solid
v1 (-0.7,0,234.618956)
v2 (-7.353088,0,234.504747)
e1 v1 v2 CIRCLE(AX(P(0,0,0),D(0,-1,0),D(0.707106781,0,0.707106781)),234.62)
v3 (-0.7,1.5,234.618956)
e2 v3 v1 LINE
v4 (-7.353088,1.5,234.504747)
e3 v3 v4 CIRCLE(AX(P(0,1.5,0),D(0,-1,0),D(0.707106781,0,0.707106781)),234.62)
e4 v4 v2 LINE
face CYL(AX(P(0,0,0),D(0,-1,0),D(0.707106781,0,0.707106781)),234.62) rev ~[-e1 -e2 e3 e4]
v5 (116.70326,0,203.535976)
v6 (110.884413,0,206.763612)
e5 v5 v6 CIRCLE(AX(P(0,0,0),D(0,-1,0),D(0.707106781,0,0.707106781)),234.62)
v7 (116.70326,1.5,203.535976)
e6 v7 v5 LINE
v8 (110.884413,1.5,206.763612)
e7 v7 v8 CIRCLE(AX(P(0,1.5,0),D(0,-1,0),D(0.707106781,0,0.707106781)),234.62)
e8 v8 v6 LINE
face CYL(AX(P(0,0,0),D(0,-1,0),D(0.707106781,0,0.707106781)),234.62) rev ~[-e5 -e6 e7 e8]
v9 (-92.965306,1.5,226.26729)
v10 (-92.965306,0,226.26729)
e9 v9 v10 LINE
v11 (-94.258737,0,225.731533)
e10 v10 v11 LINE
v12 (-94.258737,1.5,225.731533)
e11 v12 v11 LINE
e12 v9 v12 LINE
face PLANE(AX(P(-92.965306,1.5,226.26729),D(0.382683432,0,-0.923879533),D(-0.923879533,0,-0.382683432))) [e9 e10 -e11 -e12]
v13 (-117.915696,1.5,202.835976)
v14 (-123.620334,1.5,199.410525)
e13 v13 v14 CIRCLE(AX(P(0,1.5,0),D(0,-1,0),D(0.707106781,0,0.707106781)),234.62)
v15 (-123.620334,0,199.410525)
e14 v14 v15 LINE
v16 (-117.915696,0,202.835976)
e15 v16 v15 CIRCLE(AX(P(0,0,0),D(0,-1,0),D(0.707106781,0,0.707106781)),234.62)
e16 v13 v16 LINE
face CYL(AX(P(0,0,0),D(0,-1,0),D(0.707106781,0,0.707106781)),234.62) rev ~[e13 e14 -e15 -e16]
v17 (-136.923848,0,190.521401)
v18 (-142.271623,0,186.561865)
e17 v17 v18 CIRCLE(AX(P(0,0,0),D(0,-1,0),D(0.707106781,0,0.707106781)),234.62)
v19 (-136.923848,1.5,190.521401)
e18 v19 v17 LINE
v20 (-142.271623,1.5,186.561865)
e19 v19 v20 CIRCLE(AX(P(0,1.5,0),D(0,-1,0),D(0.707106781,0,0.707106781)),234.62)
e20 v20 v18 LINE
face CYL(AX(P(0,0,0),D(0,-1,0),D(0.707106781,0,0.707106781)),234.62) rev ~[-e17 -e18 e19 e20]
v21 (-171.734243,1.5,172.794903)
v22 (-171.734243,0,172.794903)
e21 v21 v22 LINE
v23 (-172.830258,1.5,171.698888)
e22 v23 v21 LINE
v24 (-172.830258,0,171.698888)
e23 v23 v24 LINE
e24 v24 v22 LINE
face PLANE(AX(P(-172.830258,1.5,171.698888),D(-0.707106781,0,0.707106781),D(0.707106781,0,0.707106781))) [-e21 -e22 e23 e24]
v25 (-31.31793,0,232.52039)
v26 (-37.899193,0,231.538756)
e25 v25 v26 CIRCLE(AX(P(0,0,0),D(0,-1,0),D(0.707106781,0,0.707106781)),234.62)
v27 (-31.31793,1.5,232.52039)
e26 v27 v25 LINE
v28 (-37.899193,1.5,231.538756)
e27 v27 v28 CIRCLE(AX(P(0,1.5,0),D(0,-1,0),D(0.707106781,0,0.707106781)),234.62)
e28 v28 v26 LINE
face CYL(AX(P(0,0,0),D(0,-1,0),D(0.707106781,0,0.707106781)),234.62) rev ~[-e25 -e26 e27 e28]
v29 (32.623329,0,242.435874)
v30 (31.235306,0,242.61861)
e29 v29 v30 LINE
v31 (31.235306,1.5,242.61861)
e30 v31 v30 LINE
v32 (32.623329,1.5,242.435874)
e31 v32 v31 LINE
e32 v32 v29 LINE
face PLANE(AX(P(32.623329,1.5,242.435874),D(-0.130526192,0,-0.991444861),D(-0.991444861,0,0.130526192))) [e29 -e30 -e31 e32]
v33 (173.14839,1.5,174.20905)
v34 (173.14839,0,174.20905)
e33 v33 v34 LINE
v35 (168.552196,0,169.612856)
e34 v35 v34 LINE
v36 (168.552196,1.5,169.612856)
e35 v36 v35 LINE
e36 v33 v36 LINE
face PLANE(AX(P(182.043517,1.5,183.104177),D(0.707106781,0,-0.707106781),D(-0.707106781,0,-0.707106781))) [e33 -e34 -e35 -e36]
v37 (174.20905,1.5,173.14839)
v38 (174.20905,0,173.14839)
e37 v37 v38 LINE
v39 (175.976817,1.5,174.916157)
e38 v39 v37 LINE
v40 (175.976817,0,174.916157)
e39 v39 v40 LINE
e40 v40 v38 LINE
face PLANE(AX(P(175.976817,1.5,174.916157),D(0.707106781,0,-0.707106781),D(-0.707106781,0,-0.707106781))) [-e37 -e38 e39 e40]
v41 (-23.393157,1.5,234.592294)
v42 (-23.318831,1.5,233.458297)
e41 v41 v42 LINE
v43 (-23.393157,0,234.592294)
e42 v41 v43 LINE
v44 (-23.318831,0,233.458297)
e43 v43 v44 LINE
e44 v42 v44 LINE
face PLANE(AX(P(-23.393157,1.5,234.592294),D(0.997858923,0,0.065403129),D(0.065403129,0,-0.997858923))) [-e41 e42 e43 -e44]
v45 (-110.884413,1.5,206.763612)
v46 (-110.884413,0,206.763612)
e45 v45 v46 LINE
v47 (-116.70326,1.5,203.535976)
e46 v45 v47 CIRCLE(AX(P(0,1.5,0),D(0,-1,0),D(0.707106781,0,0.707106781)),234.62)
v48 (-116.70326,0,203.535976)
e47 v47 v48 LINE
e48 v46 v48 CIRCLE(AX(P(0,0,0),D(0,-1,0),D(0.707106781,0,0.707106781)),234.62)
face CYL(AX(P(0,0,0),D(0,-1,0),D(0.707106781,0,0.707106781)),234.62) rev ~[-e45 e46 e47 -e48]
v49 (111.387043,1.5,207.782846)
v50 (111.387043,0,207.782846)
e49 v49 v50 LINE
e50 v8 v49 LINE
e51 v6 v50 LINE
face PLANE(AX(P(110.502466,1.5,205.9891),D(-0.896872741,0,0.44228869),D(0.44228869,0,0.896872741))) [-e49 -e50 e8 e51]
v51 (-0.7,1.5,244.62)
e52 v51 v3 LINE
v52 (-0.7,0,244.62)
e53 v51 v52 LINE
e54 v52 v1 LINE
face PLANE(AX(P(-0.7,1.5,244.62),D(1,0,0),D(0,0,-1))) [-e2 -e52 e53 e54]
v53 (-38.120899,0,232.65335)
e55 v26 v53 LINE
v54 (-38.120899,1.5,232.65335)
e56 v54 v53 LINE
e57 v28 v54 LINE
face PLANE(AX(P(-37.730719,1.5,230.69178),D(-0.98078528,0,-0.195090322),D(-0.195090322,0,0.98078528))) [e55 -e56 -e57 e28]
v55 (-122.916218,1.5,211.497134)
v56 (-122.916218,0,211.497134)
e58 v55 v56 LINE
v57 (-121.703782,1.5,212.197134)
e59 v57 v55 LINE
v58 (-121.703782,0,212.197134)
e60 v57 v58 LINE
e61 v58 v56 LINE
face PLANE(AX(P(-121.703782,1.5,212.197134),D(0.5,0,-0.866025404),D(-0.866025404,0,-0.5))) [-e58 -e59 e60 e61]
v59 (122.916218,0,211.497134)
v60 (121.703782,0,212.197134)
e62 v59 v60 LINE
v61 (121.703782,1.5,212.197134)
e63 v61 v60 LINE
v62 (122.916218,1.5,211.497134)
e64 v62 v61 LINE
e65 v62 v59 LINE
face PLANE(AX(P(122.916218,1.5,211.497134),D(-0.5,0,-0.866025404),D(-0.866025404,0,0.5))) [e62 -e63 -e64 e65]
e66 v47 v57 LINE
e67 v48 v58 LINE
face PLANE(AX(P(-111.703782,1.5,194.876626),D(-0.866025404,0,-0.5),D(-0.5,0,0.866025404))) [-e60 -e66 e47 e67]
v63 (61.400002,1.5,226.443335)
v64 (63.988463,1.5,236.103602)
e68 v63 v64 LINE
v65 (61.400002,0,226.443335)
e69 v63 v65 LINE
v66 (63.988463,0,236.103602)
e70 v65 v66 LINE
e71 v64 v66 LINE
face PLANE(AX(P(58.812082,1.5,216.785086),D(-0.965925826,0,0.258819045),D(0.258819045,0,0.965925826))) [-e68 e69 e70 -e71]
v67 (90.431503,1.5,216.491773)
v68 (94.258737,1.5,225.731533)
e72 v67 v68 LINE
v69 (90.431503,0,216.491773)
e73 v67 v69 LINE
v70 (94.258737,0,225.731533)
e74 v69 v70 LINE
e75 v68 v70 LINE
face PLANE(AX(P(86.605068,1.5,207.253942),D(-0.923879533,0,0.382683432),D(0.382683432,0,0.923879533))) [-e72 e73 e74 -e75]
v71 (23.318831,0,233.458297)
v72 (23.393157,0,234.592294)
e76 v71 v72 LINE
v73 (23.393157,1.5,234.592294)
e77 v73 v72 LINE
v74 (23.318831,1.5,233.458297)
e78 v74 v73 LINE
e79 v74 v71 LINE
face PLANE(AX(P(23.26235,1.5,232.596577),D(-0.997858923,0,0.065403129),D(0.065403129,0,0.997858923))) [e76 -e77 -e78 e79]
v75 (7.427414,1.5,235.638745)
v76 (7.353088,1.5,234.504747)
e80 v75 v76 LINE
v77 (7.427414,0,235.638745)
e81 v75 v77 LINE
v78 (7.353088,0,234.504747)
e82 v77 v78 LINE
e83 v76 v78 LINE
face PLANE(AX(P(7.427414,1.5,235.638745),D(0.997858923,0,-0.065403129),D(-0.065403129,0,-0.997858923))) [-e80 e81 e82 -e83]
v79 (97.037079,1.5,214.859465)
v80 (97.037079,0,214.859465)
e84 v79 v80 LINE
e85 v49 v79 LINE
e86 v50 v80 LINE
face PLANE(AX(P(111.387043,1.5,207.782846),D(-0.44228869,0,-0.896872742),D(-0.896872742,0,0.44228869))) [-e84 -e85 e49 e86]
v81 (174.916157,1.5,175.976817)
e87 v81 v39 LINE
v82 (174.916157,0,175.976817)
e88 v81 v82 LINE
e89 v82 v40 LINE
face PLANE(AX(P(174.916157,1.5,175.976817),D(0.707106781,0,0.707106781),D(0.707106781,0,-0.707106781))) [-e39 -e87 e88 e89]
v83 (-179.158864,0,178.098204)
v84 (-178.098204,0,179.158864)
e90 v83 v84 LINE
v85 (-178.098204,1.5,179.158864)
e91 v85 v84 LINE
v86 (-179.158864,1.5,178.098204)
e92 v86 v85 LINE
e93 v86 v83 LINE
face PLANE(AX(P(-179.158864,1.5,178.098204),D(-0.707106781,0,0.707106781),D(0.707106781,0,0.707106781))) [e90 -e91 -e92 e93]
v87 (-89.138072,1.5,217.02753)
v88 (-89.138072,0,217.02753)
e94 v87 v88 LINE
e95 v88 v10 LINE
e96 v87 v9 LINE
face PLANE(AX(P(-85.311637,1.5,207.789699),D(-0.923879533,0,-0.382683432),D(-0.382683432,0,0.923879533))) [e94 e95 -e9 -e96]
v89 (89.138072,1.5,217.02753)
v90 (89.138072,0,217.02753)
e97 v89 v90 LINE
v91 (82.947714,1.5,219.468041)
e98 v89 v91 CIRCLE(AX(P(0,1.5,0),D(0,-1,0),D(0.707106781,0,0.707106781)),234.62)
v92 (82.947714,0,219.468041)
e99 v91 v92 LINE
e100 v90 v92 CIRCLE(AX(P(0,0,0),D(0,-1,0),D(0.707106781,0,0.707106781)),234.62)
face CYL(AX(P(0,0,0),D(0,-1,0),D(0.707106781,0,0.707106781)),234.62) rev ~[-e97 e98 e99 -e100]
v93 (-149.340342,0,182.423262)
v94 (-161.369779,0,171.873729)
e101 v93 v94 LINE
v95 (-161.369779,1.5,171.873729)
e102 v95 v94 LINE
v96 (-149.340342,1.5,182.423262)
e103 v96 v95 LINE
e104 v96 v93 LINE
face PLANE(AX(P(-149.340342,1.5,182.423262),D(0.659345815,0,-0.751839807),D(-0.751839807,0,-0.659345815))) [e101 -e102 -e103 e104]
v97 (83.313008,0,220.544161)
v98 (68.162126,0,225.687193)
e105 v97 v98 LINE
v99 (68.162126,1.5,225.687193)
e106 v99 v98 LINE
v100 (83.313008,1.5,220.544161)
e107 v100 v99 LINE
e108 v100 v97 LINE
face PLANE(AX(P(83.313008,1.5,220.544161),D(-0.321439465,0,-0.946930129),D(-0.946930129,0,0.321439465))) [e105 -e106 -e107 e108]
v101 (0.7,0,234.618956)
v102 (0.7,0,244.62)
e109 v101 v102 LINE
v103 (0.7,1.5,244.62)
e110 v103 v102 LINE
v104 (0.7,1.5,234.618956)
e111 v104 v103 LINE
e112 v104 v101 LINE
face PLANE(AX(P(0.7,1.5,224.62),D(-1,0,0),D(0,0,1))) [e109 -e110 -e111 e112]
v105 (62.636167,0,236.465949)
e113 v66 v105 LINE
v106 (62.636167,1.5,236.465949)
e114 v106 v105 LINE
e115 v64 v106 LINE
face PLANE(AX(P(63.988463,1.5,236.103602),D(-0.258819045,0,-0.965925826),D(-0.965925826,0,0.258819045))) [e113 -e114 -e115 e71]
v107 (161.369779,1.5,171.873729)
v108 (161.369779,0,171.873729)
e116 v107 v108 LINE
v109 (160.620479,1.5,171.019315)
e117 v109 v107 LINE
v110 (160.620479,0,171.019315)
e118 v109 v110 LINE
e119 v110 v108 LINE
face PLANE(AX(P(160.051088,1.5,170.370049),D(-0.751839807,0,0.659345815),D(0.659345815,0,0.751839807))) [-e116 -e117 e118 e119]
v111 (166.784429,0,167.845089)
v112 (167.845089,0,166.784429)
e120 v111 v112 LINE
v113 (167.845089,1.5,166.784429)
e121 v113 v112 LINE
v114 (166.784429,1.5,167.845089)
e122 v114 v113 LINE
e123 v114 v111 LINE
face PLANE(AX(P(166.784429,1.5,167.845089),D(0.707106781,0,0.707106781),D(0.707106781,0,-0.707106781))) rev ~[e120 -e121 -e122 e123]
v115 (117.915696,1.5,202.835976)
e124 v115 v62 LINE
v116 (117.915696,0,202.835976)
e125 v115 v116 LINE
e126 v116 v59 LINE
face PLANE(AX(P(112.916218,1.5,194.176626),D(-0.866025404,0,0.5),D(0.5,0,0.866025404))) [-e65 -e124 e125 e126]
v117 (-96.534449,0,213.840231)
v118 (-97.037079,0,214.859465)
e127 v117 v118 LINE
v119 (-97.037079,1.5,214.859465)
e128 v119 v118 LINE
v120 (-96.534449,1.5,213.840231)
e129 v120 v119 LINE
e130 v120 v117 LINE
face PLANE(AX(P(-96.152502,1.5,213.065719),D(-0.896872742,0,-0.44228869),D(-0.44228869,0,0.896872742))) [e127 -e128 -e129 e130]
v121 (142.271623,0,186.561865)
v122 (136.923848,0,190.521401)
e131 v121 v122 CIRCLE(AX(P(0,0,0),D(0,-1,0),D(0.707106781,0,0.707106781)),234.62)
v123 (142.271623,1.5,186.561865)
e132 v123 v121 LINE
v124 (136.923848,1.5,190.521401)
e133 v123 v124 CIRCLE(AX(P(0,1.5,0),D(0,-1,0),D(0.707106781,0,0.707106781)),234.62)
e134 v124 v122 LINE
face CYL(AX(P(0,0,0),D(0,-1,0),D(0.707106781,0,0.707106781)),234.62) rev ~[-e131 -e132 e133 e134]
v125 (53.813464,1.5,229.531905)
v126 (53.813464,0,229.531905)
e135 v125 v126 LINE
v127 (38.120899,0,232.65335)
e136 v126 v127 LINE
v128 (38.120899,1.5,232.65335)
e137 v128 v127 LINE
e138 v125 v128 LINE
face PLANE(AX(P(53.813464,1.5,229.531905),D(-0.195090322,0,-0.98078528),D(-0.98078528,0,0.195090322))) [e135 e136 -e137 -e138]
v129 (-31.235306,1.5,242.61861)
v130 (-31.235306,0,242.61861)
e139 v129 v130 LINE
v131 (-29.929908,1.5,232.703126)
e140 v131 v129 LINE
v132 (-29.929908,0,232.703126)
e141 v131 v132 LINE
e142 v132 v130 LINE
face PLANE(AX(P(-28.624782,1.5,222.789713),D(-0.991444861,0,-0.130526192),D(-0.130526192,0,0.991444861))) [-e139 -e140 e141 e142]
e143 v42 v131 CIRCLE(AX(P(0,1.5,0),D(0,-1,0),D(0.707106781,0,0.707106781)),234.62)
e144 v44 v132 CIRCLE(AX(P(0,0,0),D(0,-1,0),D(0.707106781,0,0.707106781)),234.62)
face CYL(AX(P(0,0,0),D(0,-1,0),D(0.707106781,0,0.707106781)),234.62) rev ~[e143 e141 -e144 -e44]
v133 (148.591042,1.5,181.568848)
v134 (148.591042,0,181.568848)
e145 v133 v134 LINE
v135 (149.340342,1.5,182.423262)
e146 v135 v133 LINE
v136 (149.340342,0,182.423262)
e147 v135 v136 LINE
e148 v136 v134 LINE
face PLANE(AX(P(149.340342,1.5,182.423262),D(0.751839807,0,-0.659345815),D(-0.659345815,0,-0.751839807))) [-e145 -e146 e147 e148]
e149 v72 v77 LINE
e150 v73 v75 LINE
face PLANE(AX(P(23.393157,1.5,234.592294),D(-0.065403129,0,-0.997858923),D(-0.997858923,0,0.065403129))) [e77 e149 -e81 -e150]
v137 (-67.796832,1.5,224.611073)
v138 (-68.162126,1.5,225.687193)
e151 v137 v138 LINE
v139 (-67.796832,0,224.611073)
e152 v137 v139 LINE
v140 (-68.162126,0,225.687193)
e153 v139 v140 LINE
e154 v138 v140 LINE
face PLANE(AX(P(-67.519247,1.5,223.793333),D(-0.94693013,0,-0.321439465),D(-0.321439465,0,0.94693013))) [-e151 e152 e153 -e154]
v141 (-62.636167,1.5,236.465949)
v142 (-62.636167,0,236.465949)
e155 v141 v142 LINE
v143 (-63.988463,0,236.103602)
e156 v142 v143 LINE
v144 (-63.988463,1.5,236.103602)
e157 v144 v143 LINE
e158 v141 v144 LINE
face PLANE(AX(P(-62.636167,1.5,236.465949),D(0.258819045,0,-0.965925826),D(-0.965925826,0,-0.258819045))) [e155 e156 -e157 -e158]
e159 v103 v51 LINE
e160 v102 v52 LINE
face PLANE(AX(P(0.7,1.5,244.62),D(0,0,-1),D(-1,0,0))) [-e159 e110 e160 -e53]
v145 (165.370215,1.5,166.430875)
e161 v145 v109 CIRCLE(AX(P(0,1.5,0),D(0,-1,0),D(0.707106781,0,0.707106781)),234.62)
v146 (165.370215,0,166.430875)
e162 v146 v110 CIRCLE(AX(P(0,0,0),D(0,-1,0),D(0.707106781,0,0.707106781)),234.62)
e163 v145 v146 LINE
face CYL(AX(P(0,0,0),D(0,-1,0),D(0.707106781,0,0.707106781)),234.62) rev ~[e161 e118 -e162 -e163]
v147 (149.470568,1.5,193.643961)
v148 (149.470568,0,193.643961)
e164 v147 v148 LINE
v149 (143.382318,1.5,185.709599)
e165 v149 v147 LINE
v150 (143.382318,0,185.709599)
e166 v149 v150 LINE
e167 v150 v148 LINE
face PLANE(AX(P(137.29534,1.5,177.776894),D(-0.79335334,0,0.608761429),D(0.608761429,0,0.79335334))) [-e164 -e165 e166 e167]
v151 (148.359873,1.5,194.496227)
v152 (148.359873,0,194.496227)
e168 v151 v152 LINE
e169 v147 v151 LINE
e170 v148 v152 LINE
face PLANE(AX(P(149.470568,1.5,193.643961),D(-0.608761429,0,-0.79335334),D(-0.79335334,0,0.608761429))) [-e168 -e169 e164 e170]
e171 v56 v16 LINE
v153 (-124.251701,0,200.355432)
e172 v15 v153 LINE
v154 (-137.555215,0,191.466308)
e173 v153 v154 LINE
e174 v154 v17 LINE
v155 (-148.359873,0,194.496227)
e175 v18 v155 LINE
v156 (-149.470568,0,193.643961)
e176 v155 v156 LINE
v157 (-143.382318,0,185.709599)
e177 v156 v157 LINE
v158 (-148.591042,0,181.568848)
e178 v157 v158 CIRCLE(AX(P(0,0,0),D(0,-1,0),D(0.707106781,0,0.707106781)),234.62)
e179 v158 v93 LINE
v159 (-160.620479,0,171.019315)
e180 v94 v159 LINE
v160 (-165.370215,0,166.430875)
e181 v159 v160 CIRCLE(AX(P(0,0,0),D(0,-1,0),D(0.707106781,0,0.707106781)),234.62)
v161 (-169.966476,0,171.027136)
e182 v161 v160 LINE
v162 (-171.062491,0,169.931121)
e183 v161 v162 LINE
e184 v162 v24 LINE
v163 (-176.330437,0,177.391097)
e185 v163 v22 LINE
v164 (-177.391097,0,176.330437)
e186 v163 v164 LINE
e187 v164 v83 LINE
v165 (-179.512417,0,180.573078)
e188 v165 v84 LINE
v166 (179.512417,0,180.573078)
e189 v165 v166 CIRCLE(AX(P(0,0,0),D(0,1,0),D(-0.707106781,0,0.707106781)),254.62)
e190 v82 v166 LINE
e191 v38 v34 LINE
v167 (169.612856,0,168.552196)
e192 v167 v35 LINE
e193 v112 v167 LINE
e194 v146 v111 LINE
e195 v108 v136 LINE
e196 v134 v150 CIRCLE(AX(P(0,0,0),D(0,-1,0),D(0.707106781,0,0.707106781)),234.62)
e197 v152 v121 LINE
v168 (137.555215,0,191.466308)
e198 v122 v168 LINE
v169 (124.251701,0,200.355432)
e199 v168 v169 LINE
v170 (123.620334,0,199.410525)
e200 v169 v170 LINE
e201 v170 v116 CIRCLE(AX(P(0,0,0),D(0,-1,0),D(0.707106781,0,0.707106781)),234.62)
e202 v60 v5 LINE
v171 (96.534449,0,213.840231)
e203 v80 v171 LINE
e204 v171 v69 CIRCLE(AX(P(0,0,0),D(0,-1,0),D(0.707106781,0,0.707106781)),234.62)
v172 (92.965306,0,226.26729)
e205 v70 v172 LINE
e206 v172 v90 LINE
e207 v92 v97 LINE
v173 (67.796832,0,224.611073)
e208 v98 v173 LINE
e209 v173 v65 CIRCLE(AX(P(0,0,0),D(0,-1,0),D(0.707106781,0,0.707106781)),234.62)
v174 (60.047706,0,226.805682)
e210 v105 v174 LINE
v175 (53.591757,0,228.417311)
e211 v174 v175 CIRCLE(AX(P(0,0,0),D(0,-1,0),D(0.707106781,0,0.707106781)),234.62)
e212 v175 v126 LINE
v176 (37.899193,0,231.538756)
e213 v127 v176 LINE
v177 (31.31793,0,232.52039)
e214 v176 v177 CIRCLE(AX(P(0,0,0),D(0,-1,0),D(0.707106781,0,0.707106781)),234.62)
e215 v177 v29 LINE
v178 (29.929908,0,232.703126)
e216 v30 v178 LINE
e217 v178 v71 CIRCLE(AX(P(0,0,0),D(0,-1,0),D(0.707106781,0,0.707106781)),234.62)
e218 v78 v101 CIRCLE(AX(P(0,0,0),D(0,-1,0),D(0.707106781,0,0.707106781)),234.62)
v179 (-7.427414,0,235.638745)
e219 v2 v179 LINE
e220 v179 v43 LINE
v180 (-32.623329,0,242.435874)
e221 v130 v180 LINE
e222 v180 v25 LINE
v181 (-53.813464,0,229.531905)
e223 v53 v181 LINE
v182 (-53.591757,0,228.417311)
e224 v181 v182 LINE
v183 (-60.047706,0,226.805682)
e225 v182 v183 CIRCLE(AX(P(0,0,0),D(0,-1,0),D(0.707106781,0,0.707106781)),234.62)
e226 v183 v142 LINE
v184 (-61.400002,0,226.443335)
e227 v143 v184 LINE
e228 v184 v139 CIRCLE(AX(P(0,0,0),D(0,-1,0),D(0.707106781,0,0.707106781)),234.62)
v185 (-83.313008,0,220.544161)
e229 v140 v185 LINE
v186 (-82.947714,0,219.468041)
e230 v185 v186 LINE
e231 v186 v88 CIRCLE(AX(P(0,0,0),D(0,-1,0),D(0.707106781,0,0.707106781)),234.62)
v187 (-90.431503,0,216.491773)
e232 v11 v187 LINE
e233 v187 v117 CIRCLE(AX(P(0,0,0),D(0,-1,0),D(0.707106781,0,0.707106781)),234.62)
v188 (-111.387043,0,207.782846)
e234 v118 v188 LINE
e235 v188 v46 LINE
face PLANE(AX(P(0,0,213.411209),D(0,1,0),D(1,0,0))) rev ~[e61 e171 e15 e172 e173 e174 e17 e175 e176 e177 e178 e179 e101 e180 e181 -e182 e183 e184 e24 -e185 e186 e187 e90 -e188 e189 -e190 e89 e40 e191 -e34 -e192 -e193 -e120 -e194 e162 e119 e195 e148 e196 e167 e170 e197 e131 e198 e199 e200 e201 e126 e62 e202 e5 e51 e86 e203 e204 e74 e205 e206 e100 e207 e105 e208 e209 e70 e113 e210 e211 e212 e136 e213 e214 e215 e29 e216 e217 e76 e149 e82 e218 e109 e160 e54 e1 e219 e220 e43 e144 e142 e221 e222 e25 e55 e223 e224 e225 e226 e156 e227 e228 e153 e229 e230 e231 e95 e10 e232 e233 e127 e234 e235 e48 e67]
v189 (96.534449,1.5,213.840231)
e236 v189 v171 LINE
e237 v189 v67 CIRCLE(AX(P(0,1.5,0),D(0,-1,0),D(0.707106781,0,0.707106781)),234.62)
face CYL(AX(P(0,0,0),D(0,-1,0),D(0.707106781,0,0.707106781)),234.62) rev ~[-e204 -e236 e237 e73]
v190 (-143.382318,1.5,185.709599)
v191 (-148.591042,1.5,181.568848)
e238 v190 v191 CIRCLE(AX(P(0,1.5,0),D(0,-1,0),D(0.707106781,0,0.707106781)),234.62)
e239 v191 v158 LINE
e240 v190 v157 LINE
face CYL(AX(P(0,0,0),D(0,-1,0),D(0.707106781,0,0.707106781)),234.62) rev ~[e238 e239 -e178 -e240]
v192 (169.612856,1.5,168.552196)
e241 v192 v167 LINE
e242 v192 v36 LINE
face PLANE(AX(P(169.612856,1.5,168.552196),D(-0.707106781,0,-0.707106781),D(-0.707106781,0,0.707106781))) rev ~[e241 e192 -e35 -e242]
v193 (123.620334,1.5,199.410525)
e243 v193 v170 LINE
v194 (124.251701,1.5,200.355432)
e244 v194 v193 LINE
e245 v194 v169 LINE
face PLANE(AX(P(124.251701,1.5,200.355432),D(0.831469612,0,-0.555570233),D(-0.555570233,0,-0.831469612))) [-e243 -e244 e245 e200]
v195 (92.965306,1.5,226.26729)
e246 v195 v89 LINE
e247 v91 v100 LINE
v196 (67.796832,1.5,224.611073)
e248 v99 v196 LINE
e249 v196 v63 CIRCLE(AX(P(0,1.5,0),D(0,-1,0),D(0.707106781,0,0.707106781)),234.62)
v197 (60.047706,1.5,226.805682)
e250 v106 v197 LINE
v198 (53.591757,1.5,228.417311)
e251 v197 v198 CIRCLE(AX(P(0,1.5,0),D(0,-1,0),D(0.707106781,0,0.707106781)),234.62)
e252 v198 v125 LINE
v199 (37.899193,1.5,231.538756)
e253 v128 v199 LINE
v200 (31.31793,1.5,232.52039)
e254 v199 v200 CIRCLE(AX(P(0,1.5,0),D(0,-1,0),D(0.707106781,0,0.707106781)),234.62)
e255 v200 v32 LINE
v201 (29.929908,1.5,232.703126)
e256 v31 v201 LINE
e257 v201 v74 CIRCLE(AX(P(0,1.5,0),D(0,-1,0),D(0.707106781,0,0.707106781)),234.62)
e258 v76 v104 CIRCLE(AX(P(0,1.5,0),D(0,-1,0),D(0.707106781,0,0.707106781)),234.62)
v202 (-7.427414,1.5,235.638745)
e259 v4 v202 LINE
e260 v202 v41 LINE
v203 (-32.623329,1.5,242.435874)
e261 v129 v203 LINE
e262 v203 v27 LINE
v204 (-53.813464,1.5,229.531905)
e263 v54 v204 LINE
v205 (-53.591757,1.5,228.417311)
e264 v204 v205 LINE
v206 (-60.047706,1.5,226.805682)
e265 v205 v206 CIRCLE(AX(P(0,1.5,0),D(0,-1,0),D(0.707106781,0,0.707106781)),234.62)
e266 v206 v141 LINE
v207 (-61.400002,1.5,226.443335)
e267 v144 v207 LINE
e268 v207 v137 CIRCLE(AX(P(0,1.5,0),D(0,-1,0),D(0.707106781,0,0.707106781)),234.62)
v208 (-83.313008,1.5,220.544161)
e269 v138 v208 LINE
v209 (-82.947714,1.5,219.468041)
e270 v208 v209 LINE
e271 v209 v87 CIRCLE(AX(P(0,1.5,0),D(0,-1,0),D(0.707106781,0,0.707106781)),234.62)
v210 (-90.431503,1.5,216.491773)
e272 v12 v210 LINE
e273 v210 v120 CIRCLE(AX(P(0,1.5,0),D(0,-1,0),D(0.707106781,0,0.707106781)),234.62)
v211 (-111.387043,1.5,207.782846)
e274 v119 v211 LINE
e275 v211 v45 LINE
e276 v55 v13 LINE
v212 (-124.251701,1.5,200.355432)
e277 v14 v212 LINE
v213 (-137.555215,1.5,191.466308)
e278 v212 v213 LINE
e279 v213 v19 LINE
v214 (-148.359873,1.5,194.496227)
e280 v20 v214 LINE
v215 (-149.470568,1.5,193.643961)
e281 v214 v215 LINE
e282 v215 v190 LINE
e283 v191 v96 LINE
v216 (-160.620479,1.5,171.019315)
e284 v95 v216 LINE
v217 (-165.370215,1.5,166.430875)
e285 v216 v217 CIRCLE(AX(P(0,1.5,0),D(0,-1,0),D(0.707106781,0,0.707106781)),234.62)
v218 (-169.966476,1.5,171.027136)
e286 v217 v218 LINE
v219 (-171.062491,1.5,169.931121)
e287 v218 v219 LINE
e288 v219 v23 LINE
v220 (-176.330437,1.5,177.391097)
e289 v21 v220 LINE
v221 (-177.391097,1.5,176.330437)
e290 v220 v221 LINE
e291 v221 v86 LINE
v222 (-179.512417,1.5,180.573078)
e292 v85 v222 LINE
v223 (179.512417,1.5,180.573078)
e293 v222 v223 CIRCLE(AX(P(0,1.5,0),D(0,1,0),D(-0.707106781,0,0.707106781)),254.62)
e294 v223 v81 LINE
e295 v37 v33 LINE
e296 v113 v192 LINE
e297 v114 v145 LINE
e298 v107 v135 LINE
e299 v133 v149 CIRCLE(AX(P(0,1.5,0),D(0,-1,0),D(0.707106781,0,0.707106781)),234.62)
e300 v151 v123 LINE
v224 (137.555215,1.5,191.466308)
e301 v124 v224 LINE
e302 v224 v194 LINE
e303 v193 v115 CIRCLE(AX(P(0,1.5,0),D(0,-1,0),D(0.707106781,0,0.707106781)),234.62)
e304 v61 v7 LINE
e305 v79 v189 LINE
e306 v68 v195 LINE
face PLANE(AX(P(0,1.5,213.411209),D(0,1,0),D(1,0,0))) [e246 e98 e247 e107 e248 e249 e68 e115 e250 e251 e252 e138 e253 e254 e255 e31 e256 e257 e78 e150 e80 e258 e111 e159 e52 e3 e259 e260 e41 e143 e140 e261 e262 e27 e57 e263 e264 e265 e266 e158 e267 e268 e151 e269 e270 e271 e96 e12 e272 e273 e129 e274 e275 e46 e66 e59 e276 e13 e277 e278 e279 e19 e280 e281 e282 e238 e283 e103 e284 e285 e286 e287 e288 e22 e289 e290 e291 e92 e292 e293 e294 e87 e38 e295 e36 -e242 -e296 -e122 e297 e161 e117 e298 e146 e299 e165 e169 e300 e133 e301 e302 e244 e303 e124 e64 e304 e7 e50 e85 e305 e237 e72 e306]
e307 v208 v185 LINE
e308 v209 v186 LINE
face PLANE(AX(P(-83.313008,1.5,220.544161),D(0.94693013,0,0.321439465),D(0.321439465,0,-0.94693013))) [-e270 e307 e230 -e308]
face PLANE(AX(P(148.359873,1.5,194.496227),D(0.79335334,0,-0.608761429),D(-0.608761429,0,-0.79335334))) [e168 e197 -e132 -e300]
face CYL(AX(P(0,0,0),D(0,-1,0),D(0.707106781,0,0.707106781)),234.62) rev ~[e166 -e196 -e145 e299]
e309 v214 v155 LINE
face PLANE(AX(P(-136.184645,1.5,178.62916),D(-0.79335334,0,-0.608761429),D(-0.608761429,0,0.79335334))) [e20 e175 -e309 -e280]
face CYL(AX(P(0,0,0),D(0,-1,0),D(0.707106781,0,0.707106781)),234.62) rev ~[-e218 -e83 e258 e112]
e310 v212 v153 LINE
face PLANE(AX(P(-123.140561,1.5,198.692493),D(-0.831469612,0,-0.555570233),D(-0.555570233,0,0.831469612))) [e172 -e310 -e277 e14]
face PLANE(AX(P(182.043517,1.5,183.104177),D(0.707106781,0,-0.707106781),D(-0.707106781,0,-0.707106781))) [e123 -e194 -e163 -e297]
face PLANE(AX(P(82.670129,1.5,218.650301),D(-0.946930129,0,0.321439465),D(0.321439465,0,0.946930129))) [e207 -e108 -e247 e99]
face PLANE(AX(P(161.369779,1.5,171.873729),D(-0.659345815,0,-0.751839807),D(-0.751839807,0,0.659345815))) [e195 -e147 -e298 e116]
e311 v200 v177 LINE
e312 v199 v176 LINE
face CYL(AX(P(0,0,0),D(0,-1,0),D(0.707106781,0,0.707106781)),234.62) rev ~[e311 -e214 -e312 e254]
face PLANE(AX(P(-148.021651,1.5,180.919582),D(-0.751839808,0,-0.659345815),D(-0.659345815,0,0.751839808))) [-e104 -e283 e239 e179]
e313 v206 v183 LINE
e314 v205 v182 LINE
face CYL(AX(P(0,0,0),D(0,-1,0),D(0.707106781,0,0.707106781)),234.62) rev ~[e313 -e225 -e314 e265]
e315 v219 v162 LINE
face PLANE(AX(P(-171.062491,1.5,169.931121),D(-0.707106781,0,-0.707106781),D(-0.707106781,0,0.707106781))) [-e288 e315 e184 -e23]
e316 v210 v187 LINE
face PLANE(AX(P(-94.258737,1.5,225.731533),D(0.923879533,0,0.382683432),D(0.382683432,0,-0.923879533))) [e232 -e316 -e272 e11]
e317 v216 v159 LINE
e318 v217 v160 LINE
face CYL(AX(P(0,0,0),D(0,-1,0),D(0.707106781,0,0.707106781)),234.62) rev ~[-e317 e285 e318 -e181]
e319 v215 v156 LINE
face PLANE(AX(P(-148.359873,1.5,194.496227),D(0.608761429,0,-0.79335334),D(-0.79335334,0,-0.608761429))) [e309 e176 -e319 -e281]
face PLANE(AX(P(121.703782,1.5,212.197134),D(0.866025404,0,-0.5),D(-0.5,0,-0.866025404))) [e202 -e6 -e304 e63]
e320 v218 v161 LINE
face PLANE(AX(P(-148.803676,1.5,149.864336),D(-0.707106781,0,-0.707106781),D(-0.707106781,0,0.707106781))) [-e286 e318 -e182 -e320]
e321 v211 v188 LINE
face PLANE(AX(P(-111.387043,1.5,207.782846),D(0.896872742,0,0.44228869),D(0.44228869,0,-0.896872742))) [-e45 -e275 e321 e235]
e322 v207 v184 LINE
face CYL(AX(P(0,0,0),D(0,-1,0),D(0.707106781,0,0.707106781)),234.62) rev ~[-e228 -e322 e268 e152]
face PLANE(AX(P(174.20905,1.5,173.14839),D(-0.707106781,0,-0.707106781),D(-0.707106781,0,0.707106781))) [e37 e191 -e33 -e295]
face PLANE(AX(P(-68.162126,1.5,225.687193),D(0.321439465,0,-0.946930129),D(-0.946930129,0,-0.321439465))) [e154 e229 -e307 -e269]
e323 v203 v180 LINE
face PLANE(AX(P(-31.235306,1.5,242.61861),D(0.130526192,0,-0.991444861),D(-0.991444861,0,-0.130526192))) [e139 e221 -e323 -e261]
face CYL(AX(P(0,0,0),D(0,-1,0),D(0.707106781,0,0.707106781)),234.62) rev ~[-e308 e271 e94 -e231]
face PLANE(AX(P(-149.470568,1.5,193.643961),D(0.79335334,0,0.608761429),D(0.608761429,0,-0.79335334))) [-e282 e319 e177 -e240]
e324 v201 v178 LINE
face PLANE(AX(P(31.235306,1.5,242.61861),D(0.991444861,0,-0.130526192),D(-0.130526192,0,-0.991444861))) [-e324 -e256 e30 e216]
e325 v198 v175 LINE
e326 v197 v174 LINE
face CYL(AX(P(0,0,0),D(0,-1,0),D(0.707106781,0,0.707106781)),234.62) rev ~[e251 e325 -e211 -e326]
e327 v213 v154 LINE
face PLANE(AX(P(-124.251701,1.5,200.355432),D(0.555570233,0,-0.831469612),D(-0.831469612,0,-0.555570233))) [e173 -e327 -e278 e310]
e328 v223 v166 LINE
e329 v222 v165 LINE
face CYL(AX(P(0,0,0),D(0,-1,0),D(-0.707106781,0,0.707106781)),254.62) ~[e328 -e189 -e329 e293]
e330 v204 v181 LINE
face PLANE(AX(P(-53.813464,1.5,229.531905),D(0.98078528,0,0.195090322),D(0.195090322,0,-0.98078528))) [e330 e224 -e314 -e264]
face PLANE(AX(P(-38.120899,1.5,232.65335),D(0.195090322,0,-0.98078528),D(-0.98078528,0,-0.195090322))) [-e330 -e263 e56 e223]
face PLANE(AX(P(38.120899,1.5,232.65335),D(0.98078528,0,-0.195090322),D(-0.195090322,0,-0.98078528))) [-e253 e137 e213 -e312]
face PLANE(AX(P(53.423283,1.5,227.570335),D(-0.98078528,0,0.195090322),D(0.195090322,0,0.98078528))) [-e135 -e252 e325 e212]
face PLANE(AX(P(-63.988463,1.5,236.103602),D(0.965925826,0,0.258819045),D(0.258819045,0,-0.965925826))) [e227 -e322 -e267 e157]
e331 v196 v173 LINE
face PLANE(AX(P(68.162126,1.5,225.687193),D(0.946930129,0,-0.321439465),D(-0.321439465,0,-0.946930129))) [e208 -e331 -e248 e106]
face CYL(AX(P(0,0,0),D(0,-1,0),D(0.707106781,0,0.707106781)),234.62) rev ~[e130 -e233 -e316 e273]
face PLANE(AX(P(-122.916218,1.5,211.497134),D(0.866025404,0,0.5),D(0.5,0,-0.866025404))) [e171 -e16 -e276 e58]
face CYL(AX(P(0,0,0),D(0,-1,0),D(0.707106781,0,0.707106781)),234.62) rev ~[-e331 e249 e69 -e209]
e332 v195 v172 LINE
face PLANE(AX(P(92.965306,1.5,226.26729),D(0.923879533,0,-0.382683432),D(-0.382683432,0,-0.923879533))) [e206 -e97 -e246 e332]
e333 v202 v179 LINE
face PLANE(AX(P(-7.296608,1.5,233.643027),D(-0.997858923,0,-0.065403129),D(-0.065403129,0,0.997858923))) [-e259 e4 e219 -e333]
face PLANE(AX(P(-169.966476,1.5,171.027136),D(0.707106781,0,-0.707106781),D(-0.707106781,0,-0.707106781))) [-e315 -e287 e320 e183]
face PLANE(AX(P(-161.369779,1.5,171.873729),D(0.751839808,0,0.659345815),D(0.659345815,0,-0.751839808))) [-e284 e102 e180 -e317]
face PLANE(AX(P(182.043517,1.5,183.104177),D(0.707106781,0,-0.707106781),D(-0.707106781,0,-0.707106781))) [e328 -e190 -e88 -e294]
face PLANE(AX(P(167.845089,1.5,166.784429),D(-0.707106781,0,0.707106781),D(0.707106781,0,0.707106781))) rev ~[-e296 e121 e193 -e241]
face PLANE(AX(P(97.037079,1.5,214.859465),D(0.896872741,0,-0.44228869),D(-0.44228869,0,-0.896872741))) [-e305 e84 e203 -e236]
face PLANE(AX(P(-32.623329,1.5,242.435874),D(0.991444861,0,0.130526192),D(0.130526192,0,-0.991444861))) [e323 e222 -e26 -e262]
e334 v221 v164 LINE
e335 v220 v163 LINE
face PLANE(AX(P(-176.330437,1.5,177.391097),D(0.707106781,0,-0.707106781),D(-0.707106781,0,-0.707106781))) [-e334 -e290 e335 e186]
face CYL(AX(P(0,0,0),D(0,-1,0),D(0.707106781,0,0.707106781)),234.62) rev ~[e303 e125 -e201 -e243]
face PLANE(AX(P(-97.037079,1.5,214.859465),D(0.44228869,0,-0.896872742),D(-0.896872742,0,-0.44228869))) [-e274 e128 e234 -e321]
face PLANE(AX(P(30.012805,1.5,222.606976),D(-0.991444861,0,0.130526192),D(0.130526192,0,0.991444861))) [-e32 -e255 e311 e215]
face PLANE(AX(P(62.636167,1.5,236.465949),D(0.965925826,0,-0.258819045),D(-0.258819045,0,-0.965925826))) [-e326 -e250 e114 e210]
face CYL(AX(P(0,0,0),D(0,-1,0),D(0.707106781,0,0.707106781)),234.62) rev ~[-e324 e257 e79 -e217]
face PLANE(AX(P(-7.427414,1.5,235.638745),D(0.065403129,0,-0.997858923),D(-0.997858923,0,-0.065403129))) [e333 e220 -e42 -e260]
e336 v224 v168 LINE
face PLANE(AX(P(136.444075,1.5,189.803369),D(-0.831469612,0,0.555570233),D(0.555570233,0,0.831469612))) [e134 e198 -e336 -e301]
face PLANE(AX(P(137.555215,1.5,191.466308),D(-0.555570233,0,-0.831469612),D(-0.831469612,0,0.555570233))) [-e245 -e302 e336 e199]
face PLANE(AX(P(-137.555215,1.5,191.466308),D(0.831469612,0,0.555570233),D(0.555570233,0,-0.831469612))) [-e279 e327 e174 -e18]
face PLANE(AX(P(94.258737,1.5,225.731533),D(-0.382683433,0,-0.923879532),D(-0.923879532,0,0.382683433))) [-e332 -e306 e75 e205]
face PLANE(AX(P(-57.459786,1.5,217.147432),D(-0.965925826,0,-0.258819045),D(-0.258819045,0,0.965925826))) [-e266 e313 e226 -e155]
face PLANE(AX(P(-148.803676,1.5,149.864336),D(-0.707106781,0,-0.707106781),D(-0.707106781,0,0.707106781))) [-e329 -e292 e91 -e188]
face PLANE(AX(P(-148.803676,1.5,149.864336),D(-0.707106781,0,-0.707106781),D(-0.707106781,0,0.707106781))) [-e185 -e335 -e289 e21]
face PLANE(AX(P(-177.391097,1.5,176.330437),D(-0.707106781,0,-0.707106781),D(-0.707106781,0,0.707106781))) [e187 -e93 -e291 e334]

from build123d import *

# Parameters (mm, degrees)
EXTRUDE_1_DEPTH          = 1.5
CUT_EXTRUDE_2_DEPTH      = 1.5
PATTERN_CIRCULAR_1_COUNT = 12
PATTERN_CIRCULAR_1_ANGLE = 82.5
CUT_EXTRUDE_3_DEPTH      = 1.5
PATTERN_CIRCULAR_2_COUNT = 11
PATTERN_CIRCULAR_2_ANGLE = 75
CUT_EXTRUDE_1_REACH      = 3.5
EXTRUDE_2_DEPTH          = 1.5


with BuildPart() as part:
    # 草图1 → 凸台-拉伸1 (new body)
    with BuildSketch(Plane(origin=(0, 0, 0), x_dir=(1, 0, 0), z_dir=(0, 1, 0))):
        with BuildLine():
            Line((-165.901393002, -165.901393002), (-180.043528626, -180.043528626))
            ThreePointArc((-180.043528626, -180.043528626), (0, -254.62), (180.043528626, -180.043528626))
            Line((180.043528626, -180.043528626), (165.901393002, -165.901393002))
            ThreePointArc((165.901393002, -165.901393002), (0, -234.62), (-165.901393002, -165.901393002))
        make_face()
    extrude(amount=EXTRUDE_1_DEPTH)

    # 草图4 → 切除-拉伸2 (cut)
    with BuildSketch(Plane(origin=(0, 1.5, 0), x_dir=(1, 0, 0), z_dir=(0, 1, 0))):
        Polygon((-161.369779414, -171.873728917), (-160.051087784, -170.370049302), (-148.021650864, -180.919582344), (-149.340342494, -182.423261959), align=None)
    cut_extrude_2 = extrude(amount=-CUT_EXTRUDE_2_DEPTH, mode=Mode.SUBTRACT)

    # 阵列(圆周)1: 切除-拉伸2 ×12 about axis
    pattern_circular_1_axis = Axis((0, 0, 0), (0, 1, 0))
    for i in range(1, PATTERN_CIRCULAR_1_COUNT):
        add(cut_extrude_2.rotate(pattern_circular_1_axis, i * PATTERN_CIRCULAR_1_ANGLE / (PATTERN_CIRCULAR_1_COUNT - 1)), mode=Mode.SUBTRACT)

    # 草图5 → 切除-拉伸3 (cut)
    with BuildSketch(Plane(origin=(0, 1.5, 0), x_dir=(1, 0, 0), z_dir=(0, 1, 0))):
        Polygon((-149.470568102, -193.643961102), (-137.295339522, -177.776894296), (-136.184644846, -178.629160297), (-148.359873426, -194.496227102), align=None)
    cut_extrude_3 = extrude(amount=-CUT_EXTRUDE_3_DEPTH, mode=Mode.SUBTRACT)

    # 阵列(圆周)2: 切除-拉伸3 ×11 about axis
    pattern_circular_2_axis = Axis((0, 0, 0), (0, 1, 0))
    for i in range(1, PATTERN_CIRCULAR_2_COUNT):
        add(cut_extrude_3.rotate(pattern_circular_2_axis, i * PATTERN_CIRCULAR_2_ANGLE / (PATTERN_CIRCULAR_2_COUNT - 1)), mode=Mode.SUBTRACT)

    # 草图2 → 切除-拉伸1 (cut, up to next)
    with BuildSketch(Plane(origin=(0, 1.5, 0), x_dir=(1, 0, 0), z_dir=(0, 1, 0)), mode=Mode.PRIVATE) as cut_extrude_1_sk1:
        Polygon((-186.109121992, -185.04846182), (-149.864335916, -148.803675744), (-148.803675744, -149.864335916), (-185.04846182, -186.109121992), align=None)
    cut_extrude_1_tool1 = extrude(cut_extrude_1_sk1.sketch, amount=-CUT_EXTRUDE_1_REACH, mode=Mode.PRIVATE) & part.part
    add(cut_extrude_1_tool1.solids().sort_by_distance((-167.456399, 1.5, 167.456399))[0], mode=Mode.SUBTRACT)
    # 草图2 → 切除-拉伸1 (cut, up to next)
    with BuildSketch(Plane(origin=(0, 1.5, 0), x_dir=(1, 0, 0), z_dir=(0, 1, 0)), mode=Mode.PRIVATE) as cut_extrude_1_sk2:
        Polygon((182.043517249, -183.10417742), (140.820272757, -141.880932929), (141.880932929, -140.820272757), (183.10417742, -182.043517249), align=None)
    cut_extrude_1_tool2 = extrude(cut_extrude_1_sk2.sketch, amount=-CUT_EXTRUDE_1_REACH, mode=Mode.PRIVATE) & part.part
    add(cut_extrude_1_tool2.solids().sort_by_distance((161.962225, 1.5, 161.962225))[0], mode=Mode.SUBTRACT)

    # 草图3 → 凸台-拉伸2 (add)
    with BuildSketch(Plane(origin=(0, 1.5, 0), x_dir=(1, 0, 0), z_dir=(0, 1, 0))):
        Polygon((173.148389865, -174.209050037), (174.916156818, -175.97681699), (175.97681699, -174.916156818), (174.209050037, -173.148389865), align=None)
        Polygon((168.552195787, -169.612855959), (166.784428834, -167.845089006), (167.845089006, -166.784428834), (169.612855959, -168.552195787), align=None)
        Polygon((-178.098203915, -179.158864086), (-176.330436962, -177.391097133), (-177.391097133, -176.330436962), (-179.158864086, -178.098203915), align=None)
        Polygon((-171.734242884, -172.794903056), (-169.966475931, -171.027136103), (-171.062491442, -169.931120592), (-172.830258395, -171.698887545), align=None)
    extrude(amount=-EXTRUDE_2_DEPTH)


solid = part.part
